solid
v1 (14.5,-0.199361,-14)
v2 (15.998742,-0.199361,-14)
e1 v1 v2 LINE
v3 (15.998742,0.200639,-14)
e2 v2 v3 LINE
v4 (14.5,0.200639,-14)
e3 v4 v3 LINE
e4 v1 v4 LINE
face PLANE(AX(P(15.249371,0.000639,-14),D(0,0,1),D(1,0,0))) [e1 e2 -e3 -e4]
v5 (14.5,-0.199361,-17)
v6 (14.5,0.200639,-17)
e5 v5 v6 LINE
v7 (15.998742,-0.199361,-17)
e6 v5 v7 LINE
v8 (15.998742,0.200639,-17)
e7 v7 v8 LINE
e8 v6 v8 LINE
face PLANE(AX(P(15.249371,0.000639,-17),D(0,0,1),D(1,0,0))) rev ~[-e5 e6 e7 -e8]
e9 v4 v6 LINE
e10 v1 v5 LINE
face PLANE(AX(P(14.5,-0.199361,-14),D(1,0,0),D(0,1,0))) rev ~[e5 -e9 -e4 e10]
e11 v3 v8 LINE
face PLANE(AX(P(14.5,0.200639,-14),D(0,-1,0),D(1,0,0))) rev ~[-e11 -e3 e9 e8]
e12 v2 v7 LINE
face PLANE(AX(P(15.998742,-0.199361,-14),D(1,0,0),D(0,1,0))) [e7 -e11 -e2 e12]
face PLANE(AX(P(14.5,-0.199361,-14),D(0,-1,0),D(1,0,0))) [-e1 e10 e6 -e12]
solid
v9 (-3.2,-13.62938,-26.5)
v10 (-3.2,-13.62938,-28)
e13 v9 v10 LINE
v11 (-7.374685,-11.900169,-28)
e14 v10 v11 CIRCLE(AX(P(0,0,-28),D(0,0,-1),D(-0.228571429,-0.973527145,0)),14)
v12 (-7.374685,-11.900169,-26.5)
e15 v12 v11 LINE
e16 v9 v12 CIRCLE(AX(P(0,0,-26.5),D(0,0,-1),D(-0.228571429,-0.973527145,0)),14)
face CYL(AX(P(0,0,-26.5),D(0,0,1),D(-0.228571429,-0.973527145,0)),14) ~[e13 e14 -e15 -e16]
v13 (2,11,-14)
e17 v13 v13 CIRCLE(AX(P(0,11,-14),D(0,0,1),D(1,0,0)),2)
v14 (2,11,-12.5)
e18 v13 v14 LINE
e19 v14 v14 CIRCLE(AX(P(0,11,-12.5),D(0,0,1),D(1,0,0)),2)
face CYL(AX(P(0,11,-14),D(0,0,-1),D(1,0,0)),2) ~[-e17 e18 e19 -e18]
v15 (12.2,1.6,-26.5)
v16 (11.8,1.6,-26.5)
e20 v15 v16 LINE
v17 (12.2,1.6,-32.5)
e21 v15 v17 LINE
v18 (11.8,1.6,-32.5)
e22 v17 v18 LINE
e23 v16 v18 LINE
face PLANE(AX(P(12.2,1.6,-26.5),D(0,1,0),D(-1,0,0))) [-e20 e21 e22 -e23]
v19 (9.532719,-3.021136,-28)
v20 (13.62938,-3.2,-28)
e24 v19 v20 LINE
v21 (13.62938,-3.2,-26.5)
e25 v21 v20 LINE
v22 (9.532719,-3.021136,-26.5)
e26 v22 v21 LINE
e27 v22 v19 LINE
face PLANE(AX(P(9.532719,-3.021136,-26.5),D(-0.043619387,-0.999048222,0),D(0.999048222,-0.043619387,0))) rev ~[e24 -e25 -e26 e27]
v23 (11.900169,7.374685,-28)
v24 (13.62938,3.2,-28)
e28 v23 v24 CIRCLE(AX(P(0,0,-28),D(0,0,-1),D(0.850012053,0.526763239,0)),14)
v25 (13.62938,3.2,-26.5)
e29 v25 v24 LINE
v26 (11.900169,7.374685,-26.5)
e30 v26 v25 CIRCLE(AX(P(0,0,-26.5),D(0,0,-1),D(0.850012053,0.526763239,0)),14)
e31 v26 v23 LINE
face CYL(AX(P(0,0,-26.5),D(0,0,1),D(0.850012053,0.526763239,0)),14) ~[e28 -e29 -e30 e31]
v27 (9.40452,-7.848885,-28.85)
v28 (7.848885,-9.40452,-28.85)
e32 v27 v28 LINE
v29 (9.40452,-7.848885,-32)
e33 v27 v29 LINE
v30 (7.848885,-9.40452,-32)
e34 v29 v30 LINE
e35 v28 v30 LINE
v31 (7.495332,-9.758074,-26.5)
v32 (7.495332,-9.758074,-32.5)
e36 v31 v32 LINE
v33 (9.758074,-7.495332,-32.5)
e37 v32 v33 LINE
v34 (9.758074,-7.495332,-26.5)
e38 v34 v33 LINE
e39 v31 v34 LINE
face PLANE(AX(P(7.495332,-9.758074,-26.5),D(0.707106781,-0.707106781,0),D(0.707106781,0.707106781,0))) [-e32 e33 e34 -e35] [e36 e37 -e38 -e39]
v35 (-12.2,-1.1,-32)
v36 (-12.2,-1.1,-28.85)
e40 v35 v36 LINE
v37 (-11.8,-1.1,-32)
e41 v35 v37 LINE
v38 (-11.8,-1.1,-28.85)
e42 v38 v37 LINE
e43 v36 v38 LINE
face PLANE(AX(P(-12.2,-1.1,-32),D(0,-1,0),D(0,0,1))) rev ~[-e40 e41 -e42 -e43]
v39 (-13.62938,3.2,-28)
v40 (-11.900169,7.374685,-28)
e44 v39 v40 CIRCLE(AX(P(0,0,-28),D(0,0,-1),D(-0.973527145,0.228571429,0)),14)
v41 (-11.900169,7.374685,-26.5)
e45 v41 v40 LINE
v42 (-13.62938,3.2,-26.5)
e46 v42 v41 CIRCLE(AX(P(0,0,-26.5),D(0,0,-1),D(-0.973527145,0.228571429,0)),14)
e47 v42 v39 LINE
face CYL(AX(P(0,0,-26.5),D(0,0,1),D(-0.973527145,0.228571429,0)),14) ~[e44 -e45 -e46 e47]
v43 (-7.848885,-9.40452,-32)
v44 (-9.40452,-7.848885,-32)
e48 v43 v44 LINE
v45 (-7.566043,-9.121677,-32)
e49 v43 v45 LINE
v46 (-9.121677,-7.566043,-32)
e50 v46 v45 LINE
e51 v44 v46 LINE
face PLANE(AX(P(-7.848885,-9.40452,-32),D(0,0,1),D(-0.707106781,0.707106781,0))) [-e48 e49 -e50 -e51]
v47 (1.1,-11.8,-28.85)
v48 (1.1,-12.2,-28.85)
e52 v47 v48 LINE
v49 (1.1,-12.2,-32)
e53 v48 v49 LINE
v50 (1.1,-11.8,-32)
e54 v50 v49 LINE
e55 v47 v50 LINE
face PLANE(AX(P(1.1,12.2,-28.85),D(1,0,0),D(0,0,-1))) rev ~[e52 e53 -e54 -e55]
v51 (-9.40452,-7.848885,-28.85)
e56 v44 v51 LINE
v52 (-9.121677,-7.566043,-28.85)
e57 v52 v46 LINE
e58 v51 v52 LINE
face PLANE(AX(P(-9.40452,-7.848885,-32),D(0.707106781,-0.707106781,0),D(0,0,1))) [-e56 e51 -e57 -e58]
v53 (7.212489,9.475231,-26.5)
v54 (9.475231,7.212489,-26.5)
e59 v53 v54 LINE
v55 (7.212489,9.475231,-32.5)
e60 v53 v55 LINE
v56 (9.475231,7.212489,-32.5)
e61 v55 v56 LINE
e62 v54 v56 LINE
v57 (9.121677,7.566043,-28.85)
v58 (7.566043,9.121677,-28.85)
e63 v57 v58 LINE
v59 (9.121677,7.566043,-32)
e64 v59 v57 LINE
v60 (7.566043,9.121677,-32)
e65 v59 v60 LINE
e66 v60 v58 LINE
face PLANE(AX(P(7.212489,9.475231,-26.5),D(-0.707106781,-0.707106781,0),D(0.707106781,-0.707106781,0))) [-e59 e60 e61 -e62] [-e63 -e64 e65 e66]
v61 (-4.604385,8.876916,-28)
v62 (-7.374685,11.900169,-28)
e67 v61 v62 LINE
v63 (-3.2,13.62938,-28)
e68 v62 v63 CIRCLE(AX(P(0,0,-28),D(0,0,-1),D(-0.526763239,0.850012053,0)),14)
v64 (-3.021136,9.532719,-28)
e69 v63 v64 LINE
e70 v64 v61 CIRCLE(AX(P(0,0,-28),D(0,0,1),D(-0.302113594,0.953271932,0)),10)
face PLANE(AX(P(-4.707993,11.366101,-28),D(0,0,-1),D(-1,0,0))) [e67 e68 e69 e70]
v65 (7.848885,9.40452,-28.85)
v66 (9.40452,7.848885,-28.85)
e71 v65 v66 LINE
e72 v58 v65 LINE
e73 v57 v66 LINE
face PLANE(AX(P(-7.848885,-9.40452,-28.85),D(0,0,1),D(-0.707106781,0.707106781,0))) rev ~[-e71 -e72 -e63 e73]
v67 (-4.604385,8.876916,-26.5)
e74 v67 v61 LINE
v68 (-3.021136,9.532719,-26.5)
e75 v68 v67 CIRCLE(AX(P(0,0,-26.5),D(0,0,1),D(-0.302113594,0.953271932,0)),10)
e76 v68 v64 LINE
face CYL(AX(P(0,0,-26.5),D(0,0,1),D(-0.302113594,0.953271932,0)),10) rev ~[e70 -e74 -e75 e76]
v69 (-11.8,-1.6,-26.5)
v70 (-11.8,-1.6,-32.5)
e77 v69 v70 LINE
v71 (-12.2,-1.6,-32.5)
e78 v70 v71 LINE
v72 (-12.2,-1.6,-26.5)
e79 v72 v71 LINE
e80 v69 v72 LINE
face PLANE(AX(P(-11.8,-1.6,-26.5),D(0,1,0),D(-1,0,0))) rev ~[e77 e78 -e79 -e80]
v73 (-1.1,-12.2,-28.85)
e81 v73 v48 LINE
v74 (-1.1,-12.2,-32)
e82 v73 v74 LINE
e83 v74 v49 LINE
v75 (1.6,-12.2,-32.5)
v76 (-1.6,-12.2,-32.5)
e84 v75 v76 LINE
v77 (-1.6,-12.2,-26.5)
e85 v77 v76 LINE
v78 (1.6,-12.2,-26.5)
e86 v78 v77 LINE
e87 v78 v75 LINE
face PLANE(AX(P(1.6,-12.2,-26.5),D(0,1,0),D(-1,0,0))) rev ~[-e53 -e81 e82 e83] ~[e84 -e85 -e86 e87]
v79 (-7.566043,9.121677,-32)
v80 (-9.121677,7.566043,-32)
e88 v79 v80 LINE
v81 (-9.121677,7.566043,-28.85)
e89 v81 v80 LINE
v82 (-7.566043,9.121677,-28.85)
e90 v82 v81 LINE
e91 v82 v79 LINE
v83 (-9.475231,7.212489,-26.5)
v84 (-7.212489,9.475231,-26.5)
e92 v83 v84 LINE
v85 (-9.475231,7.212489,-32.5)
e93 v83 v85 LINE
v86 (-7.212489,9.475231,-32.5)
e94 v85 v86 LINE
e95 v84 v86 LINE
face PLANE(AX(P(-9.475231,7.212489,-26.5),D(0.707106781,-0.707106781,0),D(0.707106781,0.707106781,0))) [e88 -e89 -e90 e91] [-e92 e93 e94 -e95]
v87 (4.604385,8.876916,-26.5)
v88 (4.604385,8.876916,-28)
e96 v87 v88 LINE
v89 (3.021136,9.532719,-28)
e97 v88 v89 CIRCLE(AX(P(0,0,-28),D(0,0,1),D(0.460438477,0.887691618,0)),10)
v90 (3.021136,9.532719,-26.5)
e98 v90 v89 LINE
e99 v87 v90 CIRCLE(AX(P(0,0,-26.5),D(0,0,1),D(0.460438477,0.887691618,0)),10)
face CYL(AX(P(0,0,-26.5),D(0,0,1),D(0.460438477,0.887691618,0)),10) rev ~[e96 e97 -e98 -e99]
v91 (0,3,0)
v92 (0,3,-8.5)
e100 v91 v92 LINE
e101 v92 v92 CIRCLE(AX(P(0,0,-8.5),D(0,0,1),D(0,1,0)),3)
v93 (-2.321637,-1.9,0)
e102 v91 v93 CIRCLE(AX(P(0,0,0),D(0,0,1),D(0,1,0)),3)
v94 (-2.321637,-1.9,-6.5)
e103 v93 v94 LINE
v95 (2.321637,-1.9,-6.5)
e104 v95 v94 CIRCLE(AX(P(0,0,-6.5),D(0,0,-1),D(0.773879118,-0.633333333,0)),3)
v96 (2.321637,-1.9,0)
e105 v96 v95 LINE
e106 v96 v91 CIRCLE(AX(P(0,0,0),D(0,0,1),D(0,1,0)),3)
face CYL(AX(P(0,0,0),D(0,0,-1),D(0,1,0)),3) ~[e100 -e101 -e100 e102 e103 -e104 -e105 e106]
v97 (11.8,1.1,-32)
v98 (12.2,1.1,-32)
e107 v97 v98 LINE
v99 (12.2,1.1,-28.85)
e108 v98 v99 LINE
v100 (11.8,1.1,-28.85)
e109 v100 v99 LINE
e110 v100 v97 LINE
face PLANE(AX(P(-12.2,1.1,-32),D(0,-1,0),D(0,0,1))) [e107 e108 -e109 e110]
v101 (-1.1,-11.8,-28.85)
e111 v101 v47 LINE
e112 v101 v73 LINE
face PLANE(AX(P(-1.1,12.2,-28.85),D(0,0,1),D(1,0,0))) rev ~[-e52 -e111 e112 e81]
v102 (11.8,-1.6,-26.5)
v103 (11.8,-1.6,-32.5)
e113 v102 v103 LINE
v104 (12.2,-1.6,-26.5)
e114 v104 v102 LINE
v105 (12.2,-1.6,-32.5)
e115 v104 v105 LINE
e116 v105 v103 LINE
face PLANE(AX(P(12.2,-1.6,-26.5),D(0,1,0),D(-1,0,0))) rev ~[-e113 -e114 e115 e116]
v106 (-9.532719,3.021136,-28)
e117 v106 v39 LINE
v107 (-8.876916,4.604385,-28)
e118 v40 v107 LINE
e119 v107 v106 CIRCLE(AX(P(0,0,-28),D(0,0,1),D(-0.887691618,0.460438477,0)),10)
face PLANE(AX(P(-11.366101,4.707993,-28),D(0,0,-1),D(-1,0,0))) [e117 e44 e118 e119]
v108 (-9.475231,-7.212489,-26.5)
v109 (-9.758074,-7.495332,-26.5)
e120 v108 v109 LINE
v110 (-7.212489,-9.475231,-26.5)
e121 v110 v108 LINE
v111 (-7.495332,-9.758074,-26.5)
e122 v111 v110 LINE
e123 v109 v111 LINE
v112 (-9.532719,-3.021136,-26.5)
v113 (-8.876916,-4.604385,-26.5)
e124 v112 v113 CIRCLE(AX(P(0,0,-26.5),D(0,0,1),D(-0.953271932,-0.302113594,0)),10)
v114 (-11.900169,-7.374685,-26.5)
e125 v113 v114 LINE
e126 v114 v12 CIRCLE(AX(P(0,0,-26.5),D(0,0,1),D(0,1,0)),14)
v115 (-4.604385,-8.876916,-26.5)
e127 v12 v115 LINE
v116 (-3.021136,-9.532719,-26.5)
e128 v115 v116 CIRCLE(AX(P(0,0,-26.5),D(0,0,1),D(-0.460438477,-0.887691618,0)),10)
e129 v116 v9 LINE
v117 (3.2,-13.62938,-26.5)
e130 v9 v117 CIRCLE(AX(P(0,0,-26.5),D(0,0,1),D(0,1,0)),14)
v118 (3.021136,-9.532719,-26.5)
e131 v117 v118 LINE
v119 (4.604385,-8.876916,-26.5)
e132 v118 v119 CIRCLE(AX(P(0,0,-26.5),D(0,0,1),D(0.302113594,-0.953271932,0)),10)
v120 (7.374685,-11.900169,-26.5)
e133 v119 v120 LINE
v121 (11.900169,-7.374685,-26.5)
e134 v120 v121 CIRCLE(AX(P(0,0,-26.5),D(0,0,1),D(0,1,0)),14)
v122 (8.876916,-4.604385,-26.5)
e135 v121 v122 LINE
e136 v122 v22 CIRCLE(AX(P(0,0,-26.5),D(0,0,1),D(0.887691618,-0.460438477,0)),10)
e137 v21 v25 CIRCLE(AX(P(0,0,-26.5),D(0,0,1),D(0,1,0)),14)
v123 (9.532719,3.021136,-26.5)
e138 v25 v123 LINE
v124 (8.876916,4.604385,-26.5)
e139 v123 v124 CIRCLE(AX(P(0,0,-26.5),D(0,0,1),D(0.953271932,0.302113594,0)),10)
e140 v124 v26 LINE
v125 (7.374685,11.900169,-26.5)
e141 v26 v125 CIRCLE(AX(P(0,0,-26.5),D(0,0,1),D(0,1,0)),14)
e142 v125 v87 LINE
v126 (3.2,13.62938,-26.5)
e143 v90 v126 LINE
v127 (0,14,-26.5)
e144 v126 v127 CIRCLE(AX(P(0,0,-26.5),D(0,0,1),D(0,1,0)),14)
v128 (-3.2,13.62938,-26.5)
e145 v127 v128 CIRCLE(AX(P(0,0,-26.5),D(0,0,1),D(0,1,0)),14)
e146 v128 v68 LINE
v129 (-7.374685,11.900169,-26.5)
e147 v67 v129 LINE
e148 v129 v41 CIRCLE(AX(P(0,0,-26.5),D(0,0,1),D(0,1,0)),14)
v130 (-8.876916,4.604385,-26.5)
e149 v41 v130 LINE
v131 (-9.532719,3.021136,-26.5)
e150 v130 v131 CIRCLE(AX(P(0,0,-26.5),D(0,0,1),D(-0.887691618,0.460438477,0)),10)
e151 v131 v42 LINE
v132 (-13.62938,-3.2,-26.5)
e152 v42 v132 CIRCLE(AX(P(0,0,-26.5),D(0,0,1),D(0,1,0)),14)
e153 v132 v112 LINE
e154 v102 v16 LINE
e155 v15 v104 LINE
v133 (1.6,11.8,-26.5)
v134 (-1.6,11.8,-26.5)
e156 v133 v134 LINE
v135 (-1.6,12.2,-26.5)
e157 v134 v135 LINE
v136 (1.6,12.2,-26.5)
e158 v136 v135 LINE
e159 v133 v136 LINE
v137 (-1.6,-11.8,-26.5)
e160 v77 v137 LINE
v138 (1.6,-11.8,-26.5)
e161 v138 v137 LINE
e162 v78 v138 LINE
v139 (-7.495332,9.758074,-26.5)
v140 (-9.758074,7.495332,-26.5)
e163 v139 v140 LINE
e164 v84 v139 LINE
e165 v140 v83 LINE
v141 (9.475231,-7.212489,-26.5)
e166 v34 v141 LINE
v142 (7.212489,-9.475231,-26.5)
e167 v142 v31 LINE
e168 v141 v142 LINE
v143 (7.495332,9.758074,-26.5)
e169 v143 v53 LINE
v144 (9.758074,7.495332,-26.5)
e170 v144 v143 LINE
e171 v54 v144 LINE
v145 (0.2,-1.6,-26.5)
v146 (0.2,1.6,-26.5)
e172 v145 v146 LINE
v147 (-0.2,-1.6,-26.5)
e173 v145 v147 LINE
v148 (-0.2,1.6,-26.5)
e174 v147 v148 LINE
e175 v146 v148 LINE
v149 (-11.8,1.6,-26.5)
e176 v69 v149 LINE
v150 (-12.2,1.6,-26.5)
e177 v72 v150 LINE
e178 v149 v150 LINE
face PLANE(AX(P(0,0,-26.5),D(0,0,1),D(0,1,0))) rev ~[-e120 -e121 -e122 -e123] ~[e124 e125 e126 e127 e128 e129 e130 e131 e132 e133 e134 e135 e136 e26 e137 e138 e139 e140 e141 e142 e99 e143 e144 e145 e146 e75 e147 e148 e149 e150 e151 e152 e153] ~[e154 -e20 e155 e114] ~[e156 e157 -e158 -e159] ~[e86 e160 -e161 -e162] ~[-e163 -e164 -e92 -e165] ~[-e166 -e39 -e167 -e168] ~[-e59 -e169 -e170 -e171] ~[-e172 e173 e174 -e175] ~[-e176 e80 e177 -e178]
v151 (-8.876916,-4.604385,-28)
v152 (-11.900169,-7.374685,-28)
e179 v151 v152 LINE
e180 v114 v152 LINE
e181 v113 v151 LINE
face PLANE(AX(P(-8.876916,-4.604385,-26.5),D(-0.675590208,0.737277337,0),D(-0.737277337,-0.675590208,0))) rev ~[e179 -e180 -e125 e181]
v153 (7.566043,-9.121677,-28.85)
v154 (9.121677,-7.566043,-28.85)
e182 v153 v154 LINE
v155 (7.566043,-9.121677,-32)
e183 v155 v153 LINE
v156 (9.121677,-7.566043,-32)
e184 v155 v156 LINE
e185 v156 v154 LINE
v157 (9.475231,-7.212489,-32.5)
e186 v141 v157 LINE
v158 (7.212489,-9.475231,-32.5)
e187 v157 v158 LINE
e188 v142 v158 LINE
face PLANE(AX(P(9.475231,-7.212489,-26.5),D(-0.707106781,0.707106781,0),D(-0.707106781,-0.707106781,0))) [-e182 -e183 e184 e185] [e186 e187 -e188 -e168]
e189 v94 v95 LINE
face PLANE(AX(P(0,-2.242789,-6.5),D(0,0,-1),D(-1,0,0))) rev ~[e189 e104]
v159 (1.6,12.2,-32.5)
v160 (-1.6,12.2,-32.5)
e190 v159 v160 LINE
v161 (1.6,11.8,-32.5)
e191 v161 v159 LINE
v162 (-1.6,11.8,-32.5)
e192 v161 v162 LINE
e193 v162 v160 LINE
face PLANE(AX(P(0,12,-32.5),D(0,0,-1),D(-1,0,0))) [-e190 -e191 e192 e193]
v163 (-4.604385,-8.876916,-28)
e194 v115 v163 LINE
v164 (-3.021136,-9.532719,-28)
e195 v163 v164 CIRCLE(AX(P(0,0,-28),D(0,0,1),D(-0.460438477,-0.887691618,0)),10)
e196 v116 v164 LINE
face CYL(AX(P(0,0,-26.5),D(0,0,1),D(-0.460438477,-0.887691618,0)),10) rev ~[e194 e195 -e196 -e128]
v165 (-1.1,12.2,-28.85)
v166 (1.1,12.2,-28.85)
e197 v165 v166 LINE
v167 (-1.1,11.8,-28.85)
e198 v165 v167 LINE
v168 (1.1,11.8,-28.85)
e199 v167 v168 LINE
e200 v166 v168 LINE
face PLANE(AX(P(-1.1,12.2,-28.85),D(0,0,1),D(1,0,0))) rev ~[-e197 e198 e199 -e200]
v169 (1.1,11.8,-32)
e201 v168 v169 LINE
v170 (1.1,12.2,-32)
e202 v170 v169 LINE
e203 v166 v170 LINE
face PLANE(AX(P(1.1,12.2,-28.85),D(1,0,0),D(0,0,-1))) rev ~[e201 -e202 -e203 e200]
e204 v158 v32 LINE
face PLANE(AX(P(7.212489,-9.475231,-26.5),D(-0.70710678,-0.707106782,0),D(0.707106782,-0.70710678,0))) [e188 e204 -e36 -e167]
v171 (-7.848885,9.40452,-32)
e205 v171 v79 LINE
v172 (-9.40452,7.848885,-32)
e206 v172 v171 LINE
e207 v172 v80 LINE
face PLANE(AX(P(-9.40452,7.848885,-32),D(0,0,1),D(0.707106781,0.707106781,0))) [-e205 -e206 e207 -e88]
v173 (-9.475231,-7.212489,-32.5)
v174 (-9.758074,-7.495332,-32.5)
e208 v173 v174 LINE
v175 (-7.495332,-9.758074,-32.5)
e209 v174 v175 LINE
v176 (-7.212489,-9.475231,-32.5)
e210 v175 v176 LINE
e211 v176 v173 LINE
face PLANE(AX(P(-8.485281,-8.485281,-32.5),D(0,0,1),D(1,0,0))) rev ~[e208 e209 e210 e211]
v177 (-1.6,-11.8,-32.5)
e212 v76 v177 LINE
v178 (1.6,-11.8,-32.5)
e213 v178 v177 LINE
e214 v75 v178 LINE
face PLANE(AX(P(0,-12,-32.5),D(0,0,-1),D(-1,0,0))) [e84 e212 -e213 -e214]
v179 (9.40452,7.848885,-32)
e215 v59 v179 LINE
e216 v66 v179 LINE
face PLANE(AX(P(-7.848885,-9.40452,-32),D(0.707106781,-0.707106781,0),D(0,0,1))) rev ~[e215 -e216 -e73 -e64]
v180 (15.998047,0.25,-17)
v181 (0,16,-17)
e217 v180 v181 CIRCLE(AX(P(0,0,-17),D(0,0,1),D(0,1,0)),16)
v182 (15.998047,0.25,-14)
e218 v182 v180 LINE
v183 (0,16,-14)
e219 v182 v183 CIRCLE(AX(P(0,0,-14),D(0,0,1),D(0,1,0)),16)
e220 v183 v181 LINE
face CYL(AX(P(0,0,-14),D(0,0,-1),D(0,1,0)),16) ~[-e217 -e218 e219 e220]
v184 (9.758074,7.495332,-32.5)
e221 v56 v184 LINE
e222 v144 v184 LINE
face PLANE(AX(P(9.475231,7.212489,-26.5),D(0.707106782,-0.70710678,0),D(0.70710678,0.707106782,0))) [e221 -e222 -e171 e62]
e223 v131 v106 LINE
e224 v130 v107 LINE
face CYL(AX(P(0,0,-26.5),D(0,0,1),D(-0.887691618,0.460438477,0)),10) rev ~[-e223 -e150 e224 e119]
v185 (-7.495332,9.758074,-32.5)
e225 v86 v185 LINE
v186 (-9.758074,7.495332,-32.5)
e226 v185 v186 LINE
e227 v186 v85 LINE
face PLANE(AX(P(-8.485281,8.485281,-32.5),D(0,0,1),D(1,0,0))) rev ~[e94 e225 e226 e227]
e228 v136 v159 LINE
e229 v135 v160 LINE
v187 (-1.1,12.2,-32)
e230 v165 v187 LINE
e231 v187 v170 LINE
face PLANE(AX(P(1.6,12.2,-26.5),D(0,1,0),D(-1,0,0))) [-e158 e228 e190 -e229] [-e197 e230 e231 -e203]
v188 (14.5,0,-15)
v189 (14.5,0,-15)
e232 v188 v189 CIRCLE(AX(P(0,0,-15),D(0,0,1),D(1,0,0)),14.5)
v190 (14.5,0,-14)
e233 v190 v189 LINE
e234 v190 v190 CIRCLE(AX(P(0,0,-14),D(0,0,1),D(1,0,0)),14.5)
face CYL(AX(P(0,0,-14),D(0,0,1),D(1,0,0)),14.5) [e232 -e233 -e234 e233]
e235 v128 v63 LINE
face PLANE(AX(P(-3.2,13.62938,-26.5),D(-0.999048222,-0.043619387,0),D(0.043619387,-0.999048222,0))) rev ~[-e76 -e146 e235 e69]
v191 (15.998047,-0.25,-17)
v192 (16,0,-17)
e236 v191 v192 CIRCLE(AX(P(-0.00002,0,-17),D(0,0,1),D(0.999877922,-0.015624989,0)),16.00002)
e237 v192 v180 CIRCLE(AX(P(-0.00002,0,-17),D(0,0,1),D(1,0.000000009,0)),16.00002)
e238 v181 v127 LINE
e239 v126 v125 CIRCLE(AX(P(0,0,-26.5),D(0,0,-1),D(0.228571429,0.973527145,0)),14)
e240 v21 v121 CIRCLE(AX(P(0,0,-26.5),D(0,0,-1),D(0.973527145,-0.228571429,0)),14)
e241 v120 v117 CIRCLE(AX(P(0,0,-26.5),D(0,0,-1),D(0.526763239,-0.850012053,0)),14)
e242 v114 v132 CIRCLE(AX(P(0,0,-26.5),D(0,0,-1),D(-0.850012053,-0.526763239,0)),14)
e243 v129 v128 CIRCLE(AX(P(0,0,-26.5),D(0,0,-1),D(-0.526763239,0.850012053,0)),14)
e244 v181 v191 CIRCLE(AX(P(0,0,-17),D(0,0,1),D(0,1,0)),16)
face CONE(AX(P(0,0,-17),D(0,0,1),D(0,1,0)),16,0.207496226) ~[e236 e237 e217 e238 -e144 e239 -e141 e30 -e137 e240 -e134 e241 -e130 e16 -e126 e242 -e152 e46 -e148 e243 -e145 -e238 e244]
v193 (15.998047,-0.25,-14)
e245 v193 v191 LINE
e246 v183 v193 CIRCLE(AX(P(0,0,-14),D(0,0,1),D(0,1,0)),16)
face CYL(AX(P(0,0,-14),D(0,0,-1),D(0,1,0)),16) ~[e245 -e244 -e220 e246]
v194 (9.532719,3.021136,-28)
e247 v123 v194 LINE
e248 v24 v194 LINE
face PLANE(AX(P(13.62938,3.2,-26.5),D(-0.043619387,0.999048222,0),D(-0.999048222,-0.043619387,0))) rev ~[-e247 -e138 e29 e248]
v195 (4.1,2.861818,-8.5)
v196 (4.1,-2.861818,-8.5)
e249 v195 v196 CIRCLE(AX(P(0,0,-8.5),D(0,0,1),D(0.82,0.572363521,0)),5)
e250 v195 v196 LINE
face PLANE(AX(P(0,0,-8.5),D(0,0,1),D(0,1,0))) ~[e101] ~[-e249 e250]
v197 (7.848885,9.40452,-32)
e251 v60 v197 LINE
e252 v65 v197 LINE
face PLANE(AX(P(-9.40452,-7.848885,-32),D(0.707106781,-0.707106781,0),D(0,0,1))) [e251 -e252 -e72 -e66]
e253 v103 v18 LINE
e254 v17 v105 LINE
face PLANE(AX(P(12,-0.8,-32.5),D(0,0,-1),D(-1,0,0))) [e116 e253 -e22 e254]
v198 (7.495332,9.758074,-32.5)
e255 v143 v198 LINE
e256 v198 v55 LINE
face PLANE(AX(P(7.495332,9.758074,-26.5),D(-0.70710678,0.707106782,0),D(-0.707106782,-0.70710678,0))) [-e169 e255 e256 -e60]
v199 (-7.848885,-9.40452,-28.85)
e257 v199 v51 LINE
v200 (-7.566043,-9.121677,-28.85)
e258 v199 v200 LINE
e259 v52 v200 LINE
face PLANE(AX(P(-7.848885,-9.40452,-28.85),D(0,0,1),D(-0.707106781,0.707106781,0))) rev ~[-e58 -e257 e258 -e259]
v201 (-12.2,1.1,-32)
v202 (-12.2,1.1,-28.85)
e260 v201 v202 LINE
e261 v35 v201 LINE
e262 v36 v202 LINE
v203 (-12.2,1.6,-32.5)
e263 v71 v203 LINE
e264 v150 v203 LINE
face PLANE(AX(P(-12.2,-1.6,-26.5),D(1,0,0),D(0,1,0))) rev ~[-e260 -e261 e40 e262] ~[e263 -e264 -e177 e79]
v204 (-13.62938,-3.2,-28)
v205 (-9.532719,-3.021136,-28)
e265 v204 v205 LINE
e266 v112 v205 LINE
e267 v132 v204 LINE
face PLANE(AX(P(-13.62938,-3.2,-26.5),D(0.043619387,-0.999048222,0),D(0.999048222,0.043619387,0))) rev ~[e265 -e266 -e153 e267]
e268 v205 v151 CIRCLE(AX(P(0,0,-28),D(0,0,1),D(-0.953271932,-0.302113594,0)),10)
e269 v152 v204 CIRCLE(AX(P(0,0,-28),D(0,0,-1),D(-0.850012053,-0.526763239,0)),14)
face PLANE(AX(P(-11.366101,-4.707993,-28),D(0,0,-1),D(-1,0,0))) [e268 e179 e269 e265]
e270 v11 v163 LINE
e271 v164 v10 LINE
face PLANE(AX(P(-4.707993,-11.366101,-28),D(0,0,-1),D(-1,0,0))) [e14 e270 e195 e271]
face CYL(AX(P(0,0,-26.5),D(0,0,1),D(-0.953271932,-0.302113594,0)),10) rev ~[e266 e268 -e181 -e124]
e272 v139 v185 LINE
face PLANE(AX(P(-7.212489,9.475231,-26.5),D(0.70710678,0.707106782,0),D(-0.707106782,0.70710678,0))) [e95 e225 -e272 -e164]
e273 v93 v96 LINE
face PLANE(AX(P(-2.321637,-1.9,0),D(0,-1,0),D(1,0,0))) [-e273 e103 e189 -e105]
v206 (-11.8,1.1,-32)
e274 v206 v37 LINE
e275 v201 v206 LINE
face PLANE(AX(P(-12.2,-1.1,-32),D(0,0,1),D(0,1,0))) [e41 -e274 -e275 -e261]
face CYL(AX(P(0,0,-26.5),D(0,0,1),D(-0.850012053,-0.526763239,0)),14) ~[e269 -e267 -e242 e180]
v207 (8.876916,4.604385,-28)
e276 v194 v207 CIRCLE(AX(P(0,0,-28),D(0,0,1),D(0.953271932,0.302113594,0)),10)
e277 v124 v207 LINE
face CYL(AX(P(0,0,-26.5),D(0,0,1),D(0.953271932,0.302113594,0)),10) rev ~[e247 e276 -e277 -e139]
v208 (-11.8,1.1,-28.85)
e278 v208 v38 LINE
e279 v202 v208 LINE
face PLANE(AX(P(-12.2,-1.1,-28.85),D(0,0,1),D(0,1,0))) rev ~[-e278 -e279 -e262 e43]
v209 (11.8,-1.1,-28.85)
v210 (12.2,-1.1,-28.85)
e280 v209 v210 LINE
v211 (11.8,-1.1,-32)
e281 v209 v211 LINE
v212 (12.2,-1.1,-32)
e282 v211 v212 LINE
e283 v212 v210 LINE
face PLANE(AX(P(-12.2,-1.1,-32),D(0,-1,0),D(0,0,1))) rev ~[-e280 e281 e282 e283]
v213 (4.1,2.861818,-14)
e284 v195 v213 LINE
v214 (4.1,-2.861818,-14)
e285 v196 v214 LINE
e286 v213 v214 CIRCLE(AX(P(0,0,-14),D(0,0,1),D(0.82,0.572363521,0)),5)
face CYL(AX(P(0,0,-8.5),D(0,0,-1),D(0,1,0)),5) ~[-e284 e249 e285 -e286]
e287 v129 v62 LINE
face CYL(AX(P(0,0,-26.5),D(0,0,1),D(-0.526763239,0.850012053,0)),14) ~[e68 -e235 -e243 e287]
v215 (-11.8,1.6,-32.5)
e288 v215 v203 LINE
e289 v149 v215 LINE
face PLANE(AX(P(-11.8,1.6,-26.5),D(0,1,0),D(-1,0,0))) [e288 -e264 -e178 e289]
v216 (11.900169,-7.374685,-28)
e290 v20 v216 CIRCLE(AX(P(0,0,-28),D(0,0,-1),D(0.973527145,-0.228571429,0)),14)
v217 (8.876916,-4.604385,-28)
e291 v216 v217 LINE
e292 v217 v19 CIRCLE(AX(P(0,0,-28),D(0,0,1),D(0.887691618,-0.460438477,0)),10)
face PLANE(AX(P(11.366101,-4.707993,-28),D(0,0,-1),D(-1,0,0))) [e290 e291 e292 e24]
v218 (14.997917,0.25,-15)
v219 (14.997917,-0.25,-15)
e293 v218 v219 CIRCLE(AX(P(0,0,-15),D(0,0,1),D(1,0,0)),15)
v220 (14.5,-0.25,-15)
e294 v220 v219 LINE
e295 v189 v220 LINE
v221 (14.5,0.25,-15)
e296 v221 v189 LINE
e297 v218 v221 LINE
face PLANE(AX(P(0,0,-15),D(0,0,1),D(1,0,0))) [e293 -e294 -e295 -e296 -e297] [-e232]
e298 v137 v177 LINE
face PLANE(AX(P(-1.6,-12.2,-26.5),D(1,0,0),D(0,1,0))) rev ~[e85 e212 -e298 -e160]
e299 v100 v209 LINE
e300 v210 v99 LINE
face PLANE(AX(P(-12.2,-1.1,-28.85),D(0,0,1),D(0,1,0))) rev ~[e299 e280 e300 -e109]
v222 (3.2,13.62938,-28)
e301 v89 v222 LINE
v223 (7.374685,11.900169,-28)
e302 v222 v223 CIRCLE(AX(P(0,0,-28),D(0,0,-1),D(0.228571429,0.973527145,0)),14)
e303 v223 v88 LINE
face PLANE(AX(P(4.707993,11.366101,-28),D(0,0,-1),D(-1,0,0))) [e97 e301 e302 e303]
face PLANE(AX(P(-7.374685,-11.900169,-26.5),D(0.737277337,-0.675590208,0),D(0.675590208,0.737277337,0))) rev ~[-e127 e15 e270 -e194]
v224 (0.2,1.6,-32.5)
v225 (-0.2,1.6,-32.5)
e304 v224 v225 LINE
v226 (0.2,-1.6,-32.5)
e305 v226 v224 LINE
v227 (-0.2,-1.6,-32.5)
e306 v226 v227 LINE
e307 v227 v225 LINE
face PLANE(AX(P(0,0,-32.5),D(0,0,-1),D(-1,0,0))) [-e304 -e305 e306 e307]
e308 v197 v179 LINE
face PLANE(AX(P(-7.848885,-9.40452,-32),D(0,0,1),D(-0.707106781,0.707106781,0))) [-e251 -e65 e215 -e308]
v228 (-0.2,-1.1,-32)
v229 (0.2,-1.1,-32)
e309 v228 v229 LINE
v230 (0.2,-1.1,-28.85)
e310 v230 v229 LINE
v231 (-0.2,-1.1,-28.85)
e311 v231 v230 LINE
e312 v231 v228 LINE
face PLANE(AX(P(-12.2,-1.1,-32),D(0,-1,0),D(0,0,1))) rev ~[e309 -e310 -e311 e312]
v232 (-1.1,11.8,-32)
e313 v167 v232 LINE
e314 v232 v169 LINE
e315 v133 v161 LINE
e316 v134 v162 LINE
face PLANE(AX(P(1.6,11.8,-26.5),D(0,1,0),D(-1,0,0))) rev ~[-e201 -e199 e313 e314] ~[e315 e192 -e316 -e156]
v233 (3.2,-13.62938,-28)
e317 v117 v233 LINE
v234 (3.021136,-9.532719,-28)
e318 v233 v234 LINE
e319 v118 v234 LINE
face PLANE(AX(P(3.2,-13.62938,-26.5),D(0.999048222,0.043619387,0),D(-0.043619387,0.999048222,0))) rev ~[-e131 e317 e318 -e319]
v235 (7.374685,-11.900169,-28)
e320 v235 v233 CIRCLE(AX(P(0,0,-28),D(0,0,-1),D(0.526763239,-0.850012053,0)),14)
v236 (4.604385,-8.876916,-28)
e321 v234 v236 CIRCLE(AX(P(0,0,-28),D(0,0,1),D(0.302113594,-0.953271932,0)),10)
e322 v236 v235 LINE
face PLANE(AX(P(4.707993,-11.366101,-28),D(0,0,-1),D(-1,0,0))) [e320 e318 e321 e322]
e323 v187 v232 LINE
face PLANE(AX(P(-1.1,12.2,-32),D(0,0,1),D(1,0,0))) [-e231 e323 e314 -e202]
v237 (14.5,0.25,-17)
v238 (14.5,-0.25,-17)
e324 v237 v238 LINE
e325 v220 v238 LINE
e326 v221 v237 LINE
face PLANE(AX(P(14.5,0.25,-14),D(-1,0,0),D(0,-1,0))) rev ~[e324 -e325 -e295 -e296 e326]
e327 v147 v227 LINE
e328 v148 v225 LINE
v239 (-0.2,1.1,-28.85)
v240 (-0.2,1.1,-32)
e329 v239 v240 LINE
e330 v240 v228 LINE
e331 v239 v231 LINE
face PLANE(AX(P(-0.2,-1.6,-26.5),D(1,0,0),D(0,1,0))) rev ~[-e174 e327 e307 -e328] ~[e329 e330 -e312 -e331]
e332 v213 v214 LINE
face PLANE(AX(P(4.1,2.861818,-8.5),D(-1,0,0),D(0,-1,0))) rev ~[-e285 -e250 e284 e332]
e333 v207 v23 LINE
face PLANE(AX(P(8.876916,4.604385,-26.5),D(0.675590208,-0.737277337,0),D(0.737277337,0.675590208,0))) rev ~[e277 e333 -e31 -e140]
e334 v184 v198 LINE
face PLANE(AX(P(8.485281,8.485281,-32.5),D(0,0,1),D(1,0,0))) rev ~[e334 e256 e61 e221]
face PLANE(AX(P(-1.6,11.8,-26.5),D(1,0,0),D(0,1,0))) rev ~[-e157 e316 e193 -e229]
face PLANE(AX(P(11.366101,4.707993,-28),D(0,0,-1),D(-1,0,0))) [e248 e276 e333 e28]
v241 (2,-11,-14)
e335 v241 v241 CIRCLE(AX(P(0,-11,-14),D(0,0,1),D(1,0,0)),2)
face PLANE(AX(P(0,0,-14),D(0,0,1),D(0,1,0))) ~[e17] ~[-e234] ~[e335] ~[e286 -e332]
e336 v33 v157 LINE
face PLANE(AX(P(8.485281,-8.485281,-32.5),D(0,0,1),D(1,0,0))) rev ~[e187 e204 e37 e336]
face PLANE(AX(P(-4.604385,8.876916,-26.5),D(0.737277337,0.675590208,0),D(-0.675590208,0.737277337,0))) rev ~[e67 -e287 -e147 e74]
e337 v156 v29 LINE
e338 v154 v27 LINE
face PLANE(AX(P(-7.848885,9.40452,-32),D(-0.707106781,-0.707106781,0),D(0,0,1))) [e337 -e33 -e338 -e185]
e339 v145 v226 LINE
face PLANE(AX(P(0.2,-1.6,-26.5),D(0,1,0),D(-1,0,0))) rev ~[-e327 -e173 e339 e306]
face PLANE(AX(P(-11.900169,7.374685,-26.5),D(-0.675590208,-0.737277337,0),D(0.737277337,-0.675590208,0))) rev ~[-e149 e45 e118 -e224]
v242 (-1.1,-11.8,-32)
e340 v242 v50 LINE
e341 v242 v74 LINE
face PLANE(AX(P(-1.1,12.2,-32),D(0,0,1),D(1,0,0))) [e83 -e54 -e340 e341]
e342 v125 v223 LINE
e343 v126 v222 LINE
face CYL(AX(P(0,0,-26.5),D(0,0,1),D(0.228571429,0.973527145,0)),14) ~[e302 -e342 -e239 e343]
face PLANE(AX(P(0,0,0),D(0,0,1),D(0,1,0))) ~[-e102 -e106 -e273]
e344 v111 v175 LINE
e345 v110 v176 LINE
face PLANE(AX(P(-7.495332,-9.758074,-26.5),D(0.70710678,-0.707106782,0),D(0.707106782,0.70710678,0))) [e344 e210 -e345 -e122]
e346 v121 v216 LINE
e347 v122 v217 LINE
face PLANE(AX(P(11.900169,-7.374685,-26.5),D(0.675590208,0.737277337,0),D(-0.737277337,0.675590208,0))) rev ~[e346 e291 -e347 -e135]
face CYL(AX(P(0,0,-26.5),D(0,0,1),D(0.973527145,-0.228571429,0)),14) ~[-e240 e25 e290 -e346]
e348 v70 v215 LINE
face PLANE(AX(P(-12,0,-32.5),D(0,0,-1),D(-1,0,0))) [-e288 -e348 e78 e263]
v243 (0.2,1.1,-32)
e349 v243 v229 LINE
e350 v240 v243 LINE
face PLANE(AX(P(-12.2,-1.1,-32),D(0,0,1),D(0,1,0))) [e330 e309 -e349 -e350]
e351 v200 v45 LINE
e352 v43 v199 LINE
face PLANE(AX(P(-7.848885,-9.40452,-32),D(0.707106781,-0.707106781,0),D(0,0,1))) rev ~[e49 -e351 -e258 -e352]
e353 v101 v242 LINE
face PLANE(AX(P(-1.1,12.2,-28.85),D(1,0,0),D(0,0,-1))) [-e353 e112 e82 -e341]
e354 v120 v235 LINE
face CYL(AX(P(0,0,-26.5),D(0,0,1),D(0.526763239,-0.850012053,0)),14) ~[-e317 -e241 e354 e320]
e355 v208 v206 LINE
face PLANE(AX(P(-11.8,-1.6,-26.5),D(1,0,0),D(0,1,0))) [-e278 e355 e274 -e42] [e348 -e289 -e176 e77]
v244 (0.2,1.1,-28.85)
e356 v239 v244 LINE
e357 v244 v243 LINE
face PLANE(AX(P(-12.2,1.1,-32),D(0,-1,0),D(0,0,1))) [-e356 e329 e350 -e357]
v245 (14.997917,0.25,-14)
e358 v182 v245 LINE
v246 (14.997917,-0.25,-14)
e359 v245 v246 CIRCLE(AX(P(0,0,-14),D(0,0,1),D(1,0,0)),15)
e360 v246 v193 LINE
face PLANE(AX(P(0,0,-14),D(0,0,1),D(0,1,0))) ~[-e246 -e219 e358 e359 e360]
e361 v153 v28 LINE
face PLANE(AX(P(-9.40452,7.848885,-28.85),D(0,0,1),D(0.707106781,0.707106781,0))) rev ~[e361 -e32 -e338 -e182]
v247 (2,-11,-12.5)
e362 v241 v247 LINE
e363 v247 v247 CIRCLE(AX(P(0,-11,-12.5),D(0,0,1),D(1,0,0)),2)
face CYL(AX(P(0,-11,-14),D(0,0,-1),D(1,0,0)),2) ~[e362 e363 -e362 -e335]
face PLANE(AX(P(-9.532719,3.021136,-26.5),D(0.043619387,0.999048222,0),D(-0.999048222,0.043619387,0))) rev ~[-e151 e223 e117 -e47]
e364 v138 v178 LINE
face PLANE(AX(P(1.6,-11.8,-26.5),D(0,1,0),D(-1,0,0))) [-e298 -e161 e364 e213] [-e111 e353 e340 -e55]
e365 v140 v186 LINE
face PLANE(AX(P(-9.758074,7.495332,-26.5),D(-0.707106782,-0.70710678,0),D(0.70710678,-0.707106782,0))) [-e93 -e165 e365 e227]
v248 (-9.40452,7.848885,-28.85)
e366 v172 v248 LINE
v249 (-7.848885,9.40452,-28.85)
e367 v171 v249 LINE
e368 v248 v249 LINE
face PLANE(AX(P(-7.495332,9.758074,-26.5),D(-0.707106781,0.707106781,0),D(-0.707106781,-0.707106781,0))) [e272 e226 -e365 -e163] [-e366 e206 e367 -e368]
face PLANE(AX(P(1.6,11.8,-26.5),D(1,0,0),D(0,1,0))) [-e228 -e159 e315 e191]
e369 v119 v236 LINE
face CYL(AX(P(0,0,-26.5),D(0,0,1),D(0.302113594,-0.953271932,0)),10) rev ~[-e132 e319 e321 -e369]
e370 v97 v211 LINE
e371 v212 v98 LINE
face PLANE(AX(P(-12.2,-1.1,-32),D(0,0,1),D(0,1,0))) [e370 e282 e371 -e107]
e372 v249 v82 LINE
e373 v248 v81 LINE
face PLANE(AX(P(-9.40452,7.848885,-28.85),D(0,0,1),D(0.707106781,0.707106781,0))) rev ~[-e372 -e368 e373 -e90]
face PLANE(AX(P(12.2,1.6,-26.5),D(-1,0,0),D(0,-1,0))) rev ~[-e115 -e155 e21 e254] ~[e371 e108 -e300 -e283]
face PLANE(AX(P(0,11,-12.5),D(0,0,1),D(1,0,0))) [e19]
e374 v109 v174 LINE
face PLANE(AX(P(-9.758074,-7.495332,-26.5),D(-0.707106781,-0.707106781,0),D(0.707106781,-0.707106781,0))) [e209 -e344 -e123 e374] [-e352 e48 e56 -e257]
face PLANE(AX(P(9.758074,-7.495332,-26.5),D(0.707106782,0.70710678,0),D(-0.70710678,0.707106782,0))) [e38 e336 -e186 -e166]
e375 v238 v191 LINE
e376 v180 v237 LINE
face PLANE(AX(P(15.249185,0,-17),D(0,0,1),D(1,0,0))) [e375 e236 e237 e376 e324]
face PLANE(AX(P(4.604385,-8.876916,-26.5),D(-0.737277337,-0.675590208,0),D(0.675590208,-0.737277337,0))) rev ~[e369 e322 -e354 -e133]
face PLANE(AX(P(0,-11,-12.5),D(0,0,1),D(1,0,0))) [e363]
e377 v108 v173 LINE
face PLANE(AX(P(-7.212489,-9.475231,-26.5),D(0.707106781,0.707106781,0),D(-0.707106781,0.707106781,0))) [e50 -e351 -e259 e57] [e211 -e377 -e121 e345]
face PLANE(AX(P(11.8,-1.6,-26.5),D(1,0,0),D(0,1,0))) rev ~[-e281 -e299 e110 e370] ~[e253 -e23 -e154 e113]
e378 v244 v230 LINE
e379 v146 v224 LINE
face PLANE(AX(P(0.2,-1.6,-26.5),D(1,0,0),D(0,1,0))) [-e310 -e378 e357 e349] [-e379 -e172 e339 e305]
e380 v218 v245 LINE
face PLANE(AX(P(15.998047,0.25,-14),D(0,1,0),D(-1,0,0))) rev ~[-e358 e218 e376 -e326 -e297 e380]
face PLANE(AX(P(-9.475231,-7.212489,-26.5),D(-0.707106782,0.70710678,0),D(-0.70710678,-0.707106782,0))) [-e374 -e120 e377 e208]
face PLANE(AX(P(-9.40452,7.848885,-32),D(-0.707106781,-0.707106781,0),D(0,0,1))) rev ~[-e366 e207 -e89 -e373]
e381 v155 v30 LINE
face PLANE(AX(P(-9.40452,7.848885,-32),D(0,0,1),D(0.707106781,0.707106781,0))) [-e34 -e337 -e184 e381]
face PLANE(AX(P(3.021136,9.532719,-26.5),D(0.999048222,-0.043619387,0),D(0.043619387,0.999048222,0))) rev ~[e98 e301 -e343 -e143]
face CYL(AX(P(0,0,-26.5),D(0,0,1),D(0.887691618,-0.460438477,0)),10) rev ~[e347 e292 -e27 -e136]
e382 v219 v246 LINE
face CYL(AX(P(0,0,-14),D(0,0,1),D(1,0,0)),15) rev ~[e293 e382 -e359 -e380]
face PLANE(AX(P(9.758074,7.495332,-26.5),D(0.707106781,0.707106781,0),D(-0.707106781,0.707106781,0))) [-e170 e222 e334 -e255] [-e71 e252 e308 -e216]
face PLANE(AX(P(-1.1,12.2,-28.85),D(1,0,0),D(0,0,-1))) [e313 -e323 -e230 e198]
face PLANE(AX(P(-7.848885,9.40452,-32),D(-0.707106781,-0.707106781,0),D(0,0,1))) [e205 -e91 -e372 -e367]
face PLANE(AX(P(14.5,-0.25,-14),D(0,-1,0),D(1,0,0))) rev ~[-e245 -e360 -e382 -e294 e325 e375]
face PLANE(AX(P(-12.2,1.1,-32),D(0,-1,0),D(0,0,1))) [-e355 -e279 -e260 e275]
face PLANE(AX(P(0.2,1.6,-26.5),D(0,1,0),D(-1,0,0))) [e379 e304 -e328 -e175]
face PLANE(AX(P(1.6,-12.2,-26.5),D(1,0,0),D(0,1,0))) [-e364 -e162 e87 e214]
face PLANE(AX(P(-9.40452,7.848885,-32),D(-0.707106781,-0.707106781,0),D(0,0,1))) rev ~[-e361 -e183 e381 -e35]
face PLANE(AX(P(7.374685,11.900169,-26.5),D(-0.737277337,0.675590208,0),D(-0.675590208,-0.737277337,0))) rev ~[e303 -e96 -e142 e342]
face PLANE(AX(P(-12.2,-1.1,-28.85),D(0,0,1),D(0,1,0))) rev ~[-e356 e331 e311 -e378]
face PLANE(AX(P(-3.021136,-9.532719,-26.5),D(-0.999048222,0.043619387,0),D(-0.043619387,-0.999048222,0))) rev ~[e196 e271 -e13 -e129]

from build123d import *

# Parameters (mm, degrees)
CORTAR_EXTRUIR1_DEPTH   = 6.5
CORTAR_EXTRUIR2_DEPTH   = 5.5
CROQUIS6_R              = 2
SALIENTE_EXTRUIR1_DEPTH = 1.5
CROQUIS10_R             = 15
CROQUIS10_R_2           = 14.5
CORTAR_EXTRUIR5_DEPTH   = 1
CORTAR_EXTRUIR6_DEPTH   = 3
CROQUIS12_W             = 1.498741956
CROQUIS12_H             = 0.4
SALIENTE_EXTRUIR5_DEPTH = 3
SALIENTE_EXTRUIR6_DEPTH = 1.5
CROQUIS13_3_W           = 3.2
CROQUIS13_3_H           = 0.4
CROQUIS13_3_W_2         = 0.4
CROQUIS13_3_H_2         = 1.6
CROQUIS13_3_H_3         = 3.2
SALIENTE_EXTRUIR7_DEPTH = 6
CROQUIS14_W             = 2.2
CROQUIS14_H             = 3.15
CORTAR_EXTRUIR8_DEPTH   = 29.2
CROQUIS16_W             = 3.15
CROQUIS16_H             = 2.2
CORTAR_EXTRUIR10_DEPTH  = 35.827416998
CROQUIS17_W             = 3.15
CROQUIS17_H             = 2.2
CORTAR_EXTRUIR11_DEPTH  = 35.827416998
CROQUIS18_W             = 0.4
CROQUIS18_H             = 3.2
SALIENTE_EXTRUIR8_DEPTH = 6
CROQUIS15_W             = 3.15
CROQUIS15_H             = 2.2
CORTAR_EXTRUIR12_DEPTH  = 29.2


with BuildPart() as part:
    # Croquis3 → Revolución1 (revolve)
    with BuildSketch(Plane(origin=(0, 0, 0), x_dir=(0, 0, -1), z_dir=(1, 0, 0))):
        Polygon((0, 0), (0, 3), (8.5, 3), (8.5, 5), (14, 5), (14, 16), (17, 16), (26.5, 14), (26.5, 0), align=None)
    revolve(axis=Axis((0, 0, -26.5), (0, 0, 1)))

    # Croquis4 → Cortar-Extruir1 (cut)
    with BuildSketch(Plane.XY):
        with BuildLine():
            Line((-2.321637353, -1.9), (2.321637353, -1.9))
            ThreePointArc((2.321637353, -1.9), (0, -3), (-2.321637353, -1.9))
        make_face()
    extrude(amount=-CORTAR_EXTRUIR1_DEPTH, mode=Mode.SUBTRACT)

    # Croquis5 → Cortar-Extruir2 (cut)
    with BuildSketch(Plane.XY.offset(-8.5)):
        with BuildLine():
            Line((4.1, 2.861817604), (4.1, -2.861817604))
            ThreePointArc((4.1, -2.861817604), (5, 0), (4.1, 2.861817604))
        make_face()
    extrude(amount=-CORTAR_EXTRUIR2_DEPTH, mode=Mode.SUBTRACT)

    # Croquis6 → Saliente-Extruir1 (add)
    with BuildSketch(Plane.XY.offset(-14)):
        with Locations((0, 11)):
            Circle(CROQUIS6_R)
        with Locations((0, -11)):
            Circle(CROQUIS6_R)
    extrude(amount=SALIENTE_EXTRUIR1_DEPTH)

    # Croquis10 → Cortar-Extruir5 (cut)
    with BuildSketch(Plane.XY.offset(-14)):
        Circle(CROQUIS10_R)
        Circle(CROQUIS10_R_2, mode=Mode.SUBTRACT)
    extrude(amount=-CORTAR_EXTRUIR5_DEPTH, mode=Mode.SUBTRACT)

    # Croquis11 → Cortar-Extruir6 (cut)
    with BuildSketch(Plane.XY.offset(-14)):
        with BuildLine():
            Line((14.5, 0), (14.5, -0.25))
            Line((14.5, -0.25), (15.998046756, -0.25))
            ThreePointArc((15.998046756, -0.25), (15.999511681, -0.125003815), (16, 0))
            ThreePointArc((16, 0), (15.999511681, 0.125003815), (15.998046756, 0.25))
            Line((15.998046756, 0.25), (14.5, 0.25))
            Line((14.5, 0.25), (14.5, 0))
        make_face()
    extrude(amount=-CORTAR_EXTRUIR6_DEPTH, mode=Mode.SUBTRACT)

    # Croquis13 → Saliente-Extruir6 (add)
    with BuildSketch(Plane(origin=(0, 0, -26.5), x_dir=(-1, 0, 0), z_dir=(0, 0, -1))):
        with BuildLine():
            ThreePointArc((7.374685343, 11.900168742), (5.357568053, 12.934313455), (3.2, 13.62938003))
            Line((3.2, 13.62938003), (3.021135931, 9.532719323))
            ThreePointArc((3.021135931, 9.532719323), (3.826834324, 9.238795325), (4.604384773, 8.87691618))
            Line((4.604384773, 8.87691618), (7.374685343, 11.900168742))
        make_face()
        with BuildLine():
            ThreePointArc((13.62938003, 3.2), (12.934313455, 5.357568053), (11.900168742, 7.374685343))
            Line((11.900168742, 7.374685343), (8.87691618, 4.604384773))
            ThreePointArc((8.87691618, 4.604384773), (9.238795325, 3.826834324), (9.532719323, 3.021135931))
            Line((9.532719323, 3.021135931), (13.62938003, 3.2))
        make_face()
        with BuildLine():
            ThreePointArc((11.900168742, -7.374685343), (12.934313455, -5.357568053), (13.62938003, -3.2))
            Line((13.62938003, -3.2), (9.532719323, -3.021135931))
            ThreePointArc((9.532719323, -3.021135931), (9.238795325, -3.826834324), (8.87691618, -4.604384773))
            Line((8.87691618, -4.604384773), (11.900168742, -7.374685343))
        make_face()
        with BuildLine():
            ThreePointArc((3.2, -13.62938003), (5.357568053, -12.934313455), (7.374685343, -11.900168742))
            Line((7.374685343, -11.900168742), (4.604384773, -8.87691618))
            ThreePointArc((4.604384773, -8.87691618), (3.826834324, -9.238795325), (3.021135931, -9.532719323))
            Line((3.021135931, -9.532719323), (3.2, -13.62938003))
        make_face()
        with BuildLine():
            Line((-4.604384773, -8.87691618), (-7.374685343, -11.900168742))
            ThreePointArc((-7.374685343, -11.900168742), (-5.357568053, -12.934313455), (-3.2, -13.62938003))
            Line((-3.2, -13.62938003), (-3.021135931, -9.532719323))
            ThreePointArc((-3.021135931, -9.532719323), (-3.826834324, -9.238795325), (-4.604384773, -8.87691618))
        make_face()
        with BuildLine():
            Line((-9.532719323, -3.021135931), (-13.62938003, -3.2))
            ThreePointArc((-13.62938003, -3.2), (-12.934313455, -5.357568053), (-11.900168742, -7.374685343))
            Line((-11.900168742, -7.374685343), (-8.87691618, -4.604384773))
            ThreePointArc((-8.87691618, -4.604384773), (-9.238795325, -3.826834324), (-9.532719323, -3.021135931))
        make_face()
        with BuildLine():
            Line((-8.87691618, 4.604384773), (-11.900168742, 7.374685343))
            ThreePointArc((-11.900168742, 7.374685343), (-12.934313455, 5.357568053), (-13.62938003, 3.2))
            Line((-13.62938003, 3.2), (-9.532719323, 3.021135931))
            ThreePointArc((-9.532719323, 3.021135931), (-9.238795325, 3.826834324), (-8.87691618, 4.604384773))
        make_face()
        with BuildLine():
            Line((-3.021135931, 9.532719323), (-3.2, 13.62938003))
            ThreePointArc((-3.2, 13.62938003), (-5.357568053, 12.934313455), (-7.374685343, 11.900168742))
            Line((-7.374685343, 11.900168742), (-4.604384773, 8.87691618))
            ThreePointArc((-4.604384773, 8.87691618), (-3.826834324, 9.238795325), (-3.021135931, 9.532719323))
        make_face()
    extrude(amount=SALIENTE_EXTRUIR6_DEPTH)

    # Croquis13<3> → Saliente-Extruir7 (add)
    with BuildSketch(Plane(origin=(0, 0, -26.5), x_dir=(-1, 0, 0), z_dir=(0, 0, -1))):
        with Locations((0, 12)):
            Rectangle(CROQUIS13_3_W, CROQUIS13_3_H)
        Polygon((7.495331881, 9.75807358), (9.75807358, 7.495331881), (9.475230868, 7.212489168), (7.212489168, 9.475230868), align=None)
        Polygon((-9.75807358, 7.495331881), (-7.495331881, 9.75807358), (-7.212489168, 9.475230868), (-9.475230868, 7.212489168), align=None)
        with Locations((-12, -0.8)):
            Rectangle(CROQUIS13_3_W_2, CROQUIS13_3_H_2)
        with Locations((-12, 0.8)):
            Rectangle(CROQUIS13_3_W_2, CROQUIS13_3_H_2)
        Polygon((-7.495331881, -9.75807358), (-9.75807358, -7.495331881), (-9.475230868, -7.212489168), (-7.212489168, -9.475230868), align=None)
        with Locations((0, -12)):
            Rectangle(CROQUIS13_3_W, CROQUIS13_3_H)
        Polygon((9.75807358, -7.495331881), (7.495331881, -9.75807358), (7.212489168, -9.475230868), (9.475230868, -7.212489168), align=None)
        with Locations((12, 0)):
            Rectangle(CROQUIS13_3_W_2, CROQUIS13_3_H_3)
    extrude(amount=SALIENTE_EXTRUIR7_DEPTH)

    # Croquis14 → Cortar-Extruir8 (cut, through all)
    with BuildSketch(Plane(origin=(0, 12.2, 0), x_dir=(1, 0, 0), z_dir=(0, 1, 0))):
        with Locations((0, 30.425)):
            Rectangle(CROQUIS14_W, CROQUIS14_H)
    extrude(amount=-CORTAR_EXTRUIR8_DEPTH, mode=Mode.SUBTRACT)

    # Croquis16 → Cortar-Extruir10 (cut, through all)
    with BuildSketch(Plane(origin=(-8.62670273, 8.62670273, 0), x_dir=(0, 0, 1), z_dir=(-0.707106781, 0.707106781, 0))):
        with Locations((-30.425, 0)):
            Rectangle(CROQUIS16_W, CROQUIS16_H)
    extrude(amount=-CORTAR_EXTRUIR10_DEPTH, mode=Mode.SUBTRACT)

    # Croquis17 → Cortar-Extruir11 (cut, through all)
    with BuildSketch(Plane(origin=(-8.62670273, -8.62670273, 0), x_dir=(0, 0, 1), z_dir=(-0.707106781, -0.707106781, 0))):
        with Locations((-30.425, 0)):
            Rectangle(CROQUIS17_W, CROQUIS17_H)
    extrude(amount=-CORTAR_EXTRUIR11_DEPTH, mode=Mode.SUBTRACT)

    # Croquis18 → Saliente-Extruir8 (add)
    with BuildSketch(Plane(origin=(0, 0, -26.5), x_dir=(-1, 0, 0), z_dir=(0, 0, -1))):
        Rectangle(CROQUIS18_W, CROQUIS18_H)
    extrude(amount=SALIENTE_EXTRUIR8_DEPTH)

    # Croquis15 → Cortar-Extruir12 (cut, through all)
    with BuildSketch(Plane.ZY.offset(12.2)):
        with Locations((-30.425, 0)):
            Rectangle(CROQUIS15_W, CROQUIS15_H)
    extrude(amount=-CORTAR_EXTRUIR12_DEPTH, mode=Mode.SUBTRACT)


with BuildPart() as body_2:
    # Croquis12 → Saliente-Extruir5 (new body)
    with BuildSketch(Plane.XY.offset(-14)):
        with Locations((15.249370978, 0.00063854)):
            Rectangle(CROQUIS12_W, CROQUIS12_H)
    extrude(amount=-SALIENTE_EXTRUIR5_DEPTH)


solid = Compound([part.part, body_2.part])
